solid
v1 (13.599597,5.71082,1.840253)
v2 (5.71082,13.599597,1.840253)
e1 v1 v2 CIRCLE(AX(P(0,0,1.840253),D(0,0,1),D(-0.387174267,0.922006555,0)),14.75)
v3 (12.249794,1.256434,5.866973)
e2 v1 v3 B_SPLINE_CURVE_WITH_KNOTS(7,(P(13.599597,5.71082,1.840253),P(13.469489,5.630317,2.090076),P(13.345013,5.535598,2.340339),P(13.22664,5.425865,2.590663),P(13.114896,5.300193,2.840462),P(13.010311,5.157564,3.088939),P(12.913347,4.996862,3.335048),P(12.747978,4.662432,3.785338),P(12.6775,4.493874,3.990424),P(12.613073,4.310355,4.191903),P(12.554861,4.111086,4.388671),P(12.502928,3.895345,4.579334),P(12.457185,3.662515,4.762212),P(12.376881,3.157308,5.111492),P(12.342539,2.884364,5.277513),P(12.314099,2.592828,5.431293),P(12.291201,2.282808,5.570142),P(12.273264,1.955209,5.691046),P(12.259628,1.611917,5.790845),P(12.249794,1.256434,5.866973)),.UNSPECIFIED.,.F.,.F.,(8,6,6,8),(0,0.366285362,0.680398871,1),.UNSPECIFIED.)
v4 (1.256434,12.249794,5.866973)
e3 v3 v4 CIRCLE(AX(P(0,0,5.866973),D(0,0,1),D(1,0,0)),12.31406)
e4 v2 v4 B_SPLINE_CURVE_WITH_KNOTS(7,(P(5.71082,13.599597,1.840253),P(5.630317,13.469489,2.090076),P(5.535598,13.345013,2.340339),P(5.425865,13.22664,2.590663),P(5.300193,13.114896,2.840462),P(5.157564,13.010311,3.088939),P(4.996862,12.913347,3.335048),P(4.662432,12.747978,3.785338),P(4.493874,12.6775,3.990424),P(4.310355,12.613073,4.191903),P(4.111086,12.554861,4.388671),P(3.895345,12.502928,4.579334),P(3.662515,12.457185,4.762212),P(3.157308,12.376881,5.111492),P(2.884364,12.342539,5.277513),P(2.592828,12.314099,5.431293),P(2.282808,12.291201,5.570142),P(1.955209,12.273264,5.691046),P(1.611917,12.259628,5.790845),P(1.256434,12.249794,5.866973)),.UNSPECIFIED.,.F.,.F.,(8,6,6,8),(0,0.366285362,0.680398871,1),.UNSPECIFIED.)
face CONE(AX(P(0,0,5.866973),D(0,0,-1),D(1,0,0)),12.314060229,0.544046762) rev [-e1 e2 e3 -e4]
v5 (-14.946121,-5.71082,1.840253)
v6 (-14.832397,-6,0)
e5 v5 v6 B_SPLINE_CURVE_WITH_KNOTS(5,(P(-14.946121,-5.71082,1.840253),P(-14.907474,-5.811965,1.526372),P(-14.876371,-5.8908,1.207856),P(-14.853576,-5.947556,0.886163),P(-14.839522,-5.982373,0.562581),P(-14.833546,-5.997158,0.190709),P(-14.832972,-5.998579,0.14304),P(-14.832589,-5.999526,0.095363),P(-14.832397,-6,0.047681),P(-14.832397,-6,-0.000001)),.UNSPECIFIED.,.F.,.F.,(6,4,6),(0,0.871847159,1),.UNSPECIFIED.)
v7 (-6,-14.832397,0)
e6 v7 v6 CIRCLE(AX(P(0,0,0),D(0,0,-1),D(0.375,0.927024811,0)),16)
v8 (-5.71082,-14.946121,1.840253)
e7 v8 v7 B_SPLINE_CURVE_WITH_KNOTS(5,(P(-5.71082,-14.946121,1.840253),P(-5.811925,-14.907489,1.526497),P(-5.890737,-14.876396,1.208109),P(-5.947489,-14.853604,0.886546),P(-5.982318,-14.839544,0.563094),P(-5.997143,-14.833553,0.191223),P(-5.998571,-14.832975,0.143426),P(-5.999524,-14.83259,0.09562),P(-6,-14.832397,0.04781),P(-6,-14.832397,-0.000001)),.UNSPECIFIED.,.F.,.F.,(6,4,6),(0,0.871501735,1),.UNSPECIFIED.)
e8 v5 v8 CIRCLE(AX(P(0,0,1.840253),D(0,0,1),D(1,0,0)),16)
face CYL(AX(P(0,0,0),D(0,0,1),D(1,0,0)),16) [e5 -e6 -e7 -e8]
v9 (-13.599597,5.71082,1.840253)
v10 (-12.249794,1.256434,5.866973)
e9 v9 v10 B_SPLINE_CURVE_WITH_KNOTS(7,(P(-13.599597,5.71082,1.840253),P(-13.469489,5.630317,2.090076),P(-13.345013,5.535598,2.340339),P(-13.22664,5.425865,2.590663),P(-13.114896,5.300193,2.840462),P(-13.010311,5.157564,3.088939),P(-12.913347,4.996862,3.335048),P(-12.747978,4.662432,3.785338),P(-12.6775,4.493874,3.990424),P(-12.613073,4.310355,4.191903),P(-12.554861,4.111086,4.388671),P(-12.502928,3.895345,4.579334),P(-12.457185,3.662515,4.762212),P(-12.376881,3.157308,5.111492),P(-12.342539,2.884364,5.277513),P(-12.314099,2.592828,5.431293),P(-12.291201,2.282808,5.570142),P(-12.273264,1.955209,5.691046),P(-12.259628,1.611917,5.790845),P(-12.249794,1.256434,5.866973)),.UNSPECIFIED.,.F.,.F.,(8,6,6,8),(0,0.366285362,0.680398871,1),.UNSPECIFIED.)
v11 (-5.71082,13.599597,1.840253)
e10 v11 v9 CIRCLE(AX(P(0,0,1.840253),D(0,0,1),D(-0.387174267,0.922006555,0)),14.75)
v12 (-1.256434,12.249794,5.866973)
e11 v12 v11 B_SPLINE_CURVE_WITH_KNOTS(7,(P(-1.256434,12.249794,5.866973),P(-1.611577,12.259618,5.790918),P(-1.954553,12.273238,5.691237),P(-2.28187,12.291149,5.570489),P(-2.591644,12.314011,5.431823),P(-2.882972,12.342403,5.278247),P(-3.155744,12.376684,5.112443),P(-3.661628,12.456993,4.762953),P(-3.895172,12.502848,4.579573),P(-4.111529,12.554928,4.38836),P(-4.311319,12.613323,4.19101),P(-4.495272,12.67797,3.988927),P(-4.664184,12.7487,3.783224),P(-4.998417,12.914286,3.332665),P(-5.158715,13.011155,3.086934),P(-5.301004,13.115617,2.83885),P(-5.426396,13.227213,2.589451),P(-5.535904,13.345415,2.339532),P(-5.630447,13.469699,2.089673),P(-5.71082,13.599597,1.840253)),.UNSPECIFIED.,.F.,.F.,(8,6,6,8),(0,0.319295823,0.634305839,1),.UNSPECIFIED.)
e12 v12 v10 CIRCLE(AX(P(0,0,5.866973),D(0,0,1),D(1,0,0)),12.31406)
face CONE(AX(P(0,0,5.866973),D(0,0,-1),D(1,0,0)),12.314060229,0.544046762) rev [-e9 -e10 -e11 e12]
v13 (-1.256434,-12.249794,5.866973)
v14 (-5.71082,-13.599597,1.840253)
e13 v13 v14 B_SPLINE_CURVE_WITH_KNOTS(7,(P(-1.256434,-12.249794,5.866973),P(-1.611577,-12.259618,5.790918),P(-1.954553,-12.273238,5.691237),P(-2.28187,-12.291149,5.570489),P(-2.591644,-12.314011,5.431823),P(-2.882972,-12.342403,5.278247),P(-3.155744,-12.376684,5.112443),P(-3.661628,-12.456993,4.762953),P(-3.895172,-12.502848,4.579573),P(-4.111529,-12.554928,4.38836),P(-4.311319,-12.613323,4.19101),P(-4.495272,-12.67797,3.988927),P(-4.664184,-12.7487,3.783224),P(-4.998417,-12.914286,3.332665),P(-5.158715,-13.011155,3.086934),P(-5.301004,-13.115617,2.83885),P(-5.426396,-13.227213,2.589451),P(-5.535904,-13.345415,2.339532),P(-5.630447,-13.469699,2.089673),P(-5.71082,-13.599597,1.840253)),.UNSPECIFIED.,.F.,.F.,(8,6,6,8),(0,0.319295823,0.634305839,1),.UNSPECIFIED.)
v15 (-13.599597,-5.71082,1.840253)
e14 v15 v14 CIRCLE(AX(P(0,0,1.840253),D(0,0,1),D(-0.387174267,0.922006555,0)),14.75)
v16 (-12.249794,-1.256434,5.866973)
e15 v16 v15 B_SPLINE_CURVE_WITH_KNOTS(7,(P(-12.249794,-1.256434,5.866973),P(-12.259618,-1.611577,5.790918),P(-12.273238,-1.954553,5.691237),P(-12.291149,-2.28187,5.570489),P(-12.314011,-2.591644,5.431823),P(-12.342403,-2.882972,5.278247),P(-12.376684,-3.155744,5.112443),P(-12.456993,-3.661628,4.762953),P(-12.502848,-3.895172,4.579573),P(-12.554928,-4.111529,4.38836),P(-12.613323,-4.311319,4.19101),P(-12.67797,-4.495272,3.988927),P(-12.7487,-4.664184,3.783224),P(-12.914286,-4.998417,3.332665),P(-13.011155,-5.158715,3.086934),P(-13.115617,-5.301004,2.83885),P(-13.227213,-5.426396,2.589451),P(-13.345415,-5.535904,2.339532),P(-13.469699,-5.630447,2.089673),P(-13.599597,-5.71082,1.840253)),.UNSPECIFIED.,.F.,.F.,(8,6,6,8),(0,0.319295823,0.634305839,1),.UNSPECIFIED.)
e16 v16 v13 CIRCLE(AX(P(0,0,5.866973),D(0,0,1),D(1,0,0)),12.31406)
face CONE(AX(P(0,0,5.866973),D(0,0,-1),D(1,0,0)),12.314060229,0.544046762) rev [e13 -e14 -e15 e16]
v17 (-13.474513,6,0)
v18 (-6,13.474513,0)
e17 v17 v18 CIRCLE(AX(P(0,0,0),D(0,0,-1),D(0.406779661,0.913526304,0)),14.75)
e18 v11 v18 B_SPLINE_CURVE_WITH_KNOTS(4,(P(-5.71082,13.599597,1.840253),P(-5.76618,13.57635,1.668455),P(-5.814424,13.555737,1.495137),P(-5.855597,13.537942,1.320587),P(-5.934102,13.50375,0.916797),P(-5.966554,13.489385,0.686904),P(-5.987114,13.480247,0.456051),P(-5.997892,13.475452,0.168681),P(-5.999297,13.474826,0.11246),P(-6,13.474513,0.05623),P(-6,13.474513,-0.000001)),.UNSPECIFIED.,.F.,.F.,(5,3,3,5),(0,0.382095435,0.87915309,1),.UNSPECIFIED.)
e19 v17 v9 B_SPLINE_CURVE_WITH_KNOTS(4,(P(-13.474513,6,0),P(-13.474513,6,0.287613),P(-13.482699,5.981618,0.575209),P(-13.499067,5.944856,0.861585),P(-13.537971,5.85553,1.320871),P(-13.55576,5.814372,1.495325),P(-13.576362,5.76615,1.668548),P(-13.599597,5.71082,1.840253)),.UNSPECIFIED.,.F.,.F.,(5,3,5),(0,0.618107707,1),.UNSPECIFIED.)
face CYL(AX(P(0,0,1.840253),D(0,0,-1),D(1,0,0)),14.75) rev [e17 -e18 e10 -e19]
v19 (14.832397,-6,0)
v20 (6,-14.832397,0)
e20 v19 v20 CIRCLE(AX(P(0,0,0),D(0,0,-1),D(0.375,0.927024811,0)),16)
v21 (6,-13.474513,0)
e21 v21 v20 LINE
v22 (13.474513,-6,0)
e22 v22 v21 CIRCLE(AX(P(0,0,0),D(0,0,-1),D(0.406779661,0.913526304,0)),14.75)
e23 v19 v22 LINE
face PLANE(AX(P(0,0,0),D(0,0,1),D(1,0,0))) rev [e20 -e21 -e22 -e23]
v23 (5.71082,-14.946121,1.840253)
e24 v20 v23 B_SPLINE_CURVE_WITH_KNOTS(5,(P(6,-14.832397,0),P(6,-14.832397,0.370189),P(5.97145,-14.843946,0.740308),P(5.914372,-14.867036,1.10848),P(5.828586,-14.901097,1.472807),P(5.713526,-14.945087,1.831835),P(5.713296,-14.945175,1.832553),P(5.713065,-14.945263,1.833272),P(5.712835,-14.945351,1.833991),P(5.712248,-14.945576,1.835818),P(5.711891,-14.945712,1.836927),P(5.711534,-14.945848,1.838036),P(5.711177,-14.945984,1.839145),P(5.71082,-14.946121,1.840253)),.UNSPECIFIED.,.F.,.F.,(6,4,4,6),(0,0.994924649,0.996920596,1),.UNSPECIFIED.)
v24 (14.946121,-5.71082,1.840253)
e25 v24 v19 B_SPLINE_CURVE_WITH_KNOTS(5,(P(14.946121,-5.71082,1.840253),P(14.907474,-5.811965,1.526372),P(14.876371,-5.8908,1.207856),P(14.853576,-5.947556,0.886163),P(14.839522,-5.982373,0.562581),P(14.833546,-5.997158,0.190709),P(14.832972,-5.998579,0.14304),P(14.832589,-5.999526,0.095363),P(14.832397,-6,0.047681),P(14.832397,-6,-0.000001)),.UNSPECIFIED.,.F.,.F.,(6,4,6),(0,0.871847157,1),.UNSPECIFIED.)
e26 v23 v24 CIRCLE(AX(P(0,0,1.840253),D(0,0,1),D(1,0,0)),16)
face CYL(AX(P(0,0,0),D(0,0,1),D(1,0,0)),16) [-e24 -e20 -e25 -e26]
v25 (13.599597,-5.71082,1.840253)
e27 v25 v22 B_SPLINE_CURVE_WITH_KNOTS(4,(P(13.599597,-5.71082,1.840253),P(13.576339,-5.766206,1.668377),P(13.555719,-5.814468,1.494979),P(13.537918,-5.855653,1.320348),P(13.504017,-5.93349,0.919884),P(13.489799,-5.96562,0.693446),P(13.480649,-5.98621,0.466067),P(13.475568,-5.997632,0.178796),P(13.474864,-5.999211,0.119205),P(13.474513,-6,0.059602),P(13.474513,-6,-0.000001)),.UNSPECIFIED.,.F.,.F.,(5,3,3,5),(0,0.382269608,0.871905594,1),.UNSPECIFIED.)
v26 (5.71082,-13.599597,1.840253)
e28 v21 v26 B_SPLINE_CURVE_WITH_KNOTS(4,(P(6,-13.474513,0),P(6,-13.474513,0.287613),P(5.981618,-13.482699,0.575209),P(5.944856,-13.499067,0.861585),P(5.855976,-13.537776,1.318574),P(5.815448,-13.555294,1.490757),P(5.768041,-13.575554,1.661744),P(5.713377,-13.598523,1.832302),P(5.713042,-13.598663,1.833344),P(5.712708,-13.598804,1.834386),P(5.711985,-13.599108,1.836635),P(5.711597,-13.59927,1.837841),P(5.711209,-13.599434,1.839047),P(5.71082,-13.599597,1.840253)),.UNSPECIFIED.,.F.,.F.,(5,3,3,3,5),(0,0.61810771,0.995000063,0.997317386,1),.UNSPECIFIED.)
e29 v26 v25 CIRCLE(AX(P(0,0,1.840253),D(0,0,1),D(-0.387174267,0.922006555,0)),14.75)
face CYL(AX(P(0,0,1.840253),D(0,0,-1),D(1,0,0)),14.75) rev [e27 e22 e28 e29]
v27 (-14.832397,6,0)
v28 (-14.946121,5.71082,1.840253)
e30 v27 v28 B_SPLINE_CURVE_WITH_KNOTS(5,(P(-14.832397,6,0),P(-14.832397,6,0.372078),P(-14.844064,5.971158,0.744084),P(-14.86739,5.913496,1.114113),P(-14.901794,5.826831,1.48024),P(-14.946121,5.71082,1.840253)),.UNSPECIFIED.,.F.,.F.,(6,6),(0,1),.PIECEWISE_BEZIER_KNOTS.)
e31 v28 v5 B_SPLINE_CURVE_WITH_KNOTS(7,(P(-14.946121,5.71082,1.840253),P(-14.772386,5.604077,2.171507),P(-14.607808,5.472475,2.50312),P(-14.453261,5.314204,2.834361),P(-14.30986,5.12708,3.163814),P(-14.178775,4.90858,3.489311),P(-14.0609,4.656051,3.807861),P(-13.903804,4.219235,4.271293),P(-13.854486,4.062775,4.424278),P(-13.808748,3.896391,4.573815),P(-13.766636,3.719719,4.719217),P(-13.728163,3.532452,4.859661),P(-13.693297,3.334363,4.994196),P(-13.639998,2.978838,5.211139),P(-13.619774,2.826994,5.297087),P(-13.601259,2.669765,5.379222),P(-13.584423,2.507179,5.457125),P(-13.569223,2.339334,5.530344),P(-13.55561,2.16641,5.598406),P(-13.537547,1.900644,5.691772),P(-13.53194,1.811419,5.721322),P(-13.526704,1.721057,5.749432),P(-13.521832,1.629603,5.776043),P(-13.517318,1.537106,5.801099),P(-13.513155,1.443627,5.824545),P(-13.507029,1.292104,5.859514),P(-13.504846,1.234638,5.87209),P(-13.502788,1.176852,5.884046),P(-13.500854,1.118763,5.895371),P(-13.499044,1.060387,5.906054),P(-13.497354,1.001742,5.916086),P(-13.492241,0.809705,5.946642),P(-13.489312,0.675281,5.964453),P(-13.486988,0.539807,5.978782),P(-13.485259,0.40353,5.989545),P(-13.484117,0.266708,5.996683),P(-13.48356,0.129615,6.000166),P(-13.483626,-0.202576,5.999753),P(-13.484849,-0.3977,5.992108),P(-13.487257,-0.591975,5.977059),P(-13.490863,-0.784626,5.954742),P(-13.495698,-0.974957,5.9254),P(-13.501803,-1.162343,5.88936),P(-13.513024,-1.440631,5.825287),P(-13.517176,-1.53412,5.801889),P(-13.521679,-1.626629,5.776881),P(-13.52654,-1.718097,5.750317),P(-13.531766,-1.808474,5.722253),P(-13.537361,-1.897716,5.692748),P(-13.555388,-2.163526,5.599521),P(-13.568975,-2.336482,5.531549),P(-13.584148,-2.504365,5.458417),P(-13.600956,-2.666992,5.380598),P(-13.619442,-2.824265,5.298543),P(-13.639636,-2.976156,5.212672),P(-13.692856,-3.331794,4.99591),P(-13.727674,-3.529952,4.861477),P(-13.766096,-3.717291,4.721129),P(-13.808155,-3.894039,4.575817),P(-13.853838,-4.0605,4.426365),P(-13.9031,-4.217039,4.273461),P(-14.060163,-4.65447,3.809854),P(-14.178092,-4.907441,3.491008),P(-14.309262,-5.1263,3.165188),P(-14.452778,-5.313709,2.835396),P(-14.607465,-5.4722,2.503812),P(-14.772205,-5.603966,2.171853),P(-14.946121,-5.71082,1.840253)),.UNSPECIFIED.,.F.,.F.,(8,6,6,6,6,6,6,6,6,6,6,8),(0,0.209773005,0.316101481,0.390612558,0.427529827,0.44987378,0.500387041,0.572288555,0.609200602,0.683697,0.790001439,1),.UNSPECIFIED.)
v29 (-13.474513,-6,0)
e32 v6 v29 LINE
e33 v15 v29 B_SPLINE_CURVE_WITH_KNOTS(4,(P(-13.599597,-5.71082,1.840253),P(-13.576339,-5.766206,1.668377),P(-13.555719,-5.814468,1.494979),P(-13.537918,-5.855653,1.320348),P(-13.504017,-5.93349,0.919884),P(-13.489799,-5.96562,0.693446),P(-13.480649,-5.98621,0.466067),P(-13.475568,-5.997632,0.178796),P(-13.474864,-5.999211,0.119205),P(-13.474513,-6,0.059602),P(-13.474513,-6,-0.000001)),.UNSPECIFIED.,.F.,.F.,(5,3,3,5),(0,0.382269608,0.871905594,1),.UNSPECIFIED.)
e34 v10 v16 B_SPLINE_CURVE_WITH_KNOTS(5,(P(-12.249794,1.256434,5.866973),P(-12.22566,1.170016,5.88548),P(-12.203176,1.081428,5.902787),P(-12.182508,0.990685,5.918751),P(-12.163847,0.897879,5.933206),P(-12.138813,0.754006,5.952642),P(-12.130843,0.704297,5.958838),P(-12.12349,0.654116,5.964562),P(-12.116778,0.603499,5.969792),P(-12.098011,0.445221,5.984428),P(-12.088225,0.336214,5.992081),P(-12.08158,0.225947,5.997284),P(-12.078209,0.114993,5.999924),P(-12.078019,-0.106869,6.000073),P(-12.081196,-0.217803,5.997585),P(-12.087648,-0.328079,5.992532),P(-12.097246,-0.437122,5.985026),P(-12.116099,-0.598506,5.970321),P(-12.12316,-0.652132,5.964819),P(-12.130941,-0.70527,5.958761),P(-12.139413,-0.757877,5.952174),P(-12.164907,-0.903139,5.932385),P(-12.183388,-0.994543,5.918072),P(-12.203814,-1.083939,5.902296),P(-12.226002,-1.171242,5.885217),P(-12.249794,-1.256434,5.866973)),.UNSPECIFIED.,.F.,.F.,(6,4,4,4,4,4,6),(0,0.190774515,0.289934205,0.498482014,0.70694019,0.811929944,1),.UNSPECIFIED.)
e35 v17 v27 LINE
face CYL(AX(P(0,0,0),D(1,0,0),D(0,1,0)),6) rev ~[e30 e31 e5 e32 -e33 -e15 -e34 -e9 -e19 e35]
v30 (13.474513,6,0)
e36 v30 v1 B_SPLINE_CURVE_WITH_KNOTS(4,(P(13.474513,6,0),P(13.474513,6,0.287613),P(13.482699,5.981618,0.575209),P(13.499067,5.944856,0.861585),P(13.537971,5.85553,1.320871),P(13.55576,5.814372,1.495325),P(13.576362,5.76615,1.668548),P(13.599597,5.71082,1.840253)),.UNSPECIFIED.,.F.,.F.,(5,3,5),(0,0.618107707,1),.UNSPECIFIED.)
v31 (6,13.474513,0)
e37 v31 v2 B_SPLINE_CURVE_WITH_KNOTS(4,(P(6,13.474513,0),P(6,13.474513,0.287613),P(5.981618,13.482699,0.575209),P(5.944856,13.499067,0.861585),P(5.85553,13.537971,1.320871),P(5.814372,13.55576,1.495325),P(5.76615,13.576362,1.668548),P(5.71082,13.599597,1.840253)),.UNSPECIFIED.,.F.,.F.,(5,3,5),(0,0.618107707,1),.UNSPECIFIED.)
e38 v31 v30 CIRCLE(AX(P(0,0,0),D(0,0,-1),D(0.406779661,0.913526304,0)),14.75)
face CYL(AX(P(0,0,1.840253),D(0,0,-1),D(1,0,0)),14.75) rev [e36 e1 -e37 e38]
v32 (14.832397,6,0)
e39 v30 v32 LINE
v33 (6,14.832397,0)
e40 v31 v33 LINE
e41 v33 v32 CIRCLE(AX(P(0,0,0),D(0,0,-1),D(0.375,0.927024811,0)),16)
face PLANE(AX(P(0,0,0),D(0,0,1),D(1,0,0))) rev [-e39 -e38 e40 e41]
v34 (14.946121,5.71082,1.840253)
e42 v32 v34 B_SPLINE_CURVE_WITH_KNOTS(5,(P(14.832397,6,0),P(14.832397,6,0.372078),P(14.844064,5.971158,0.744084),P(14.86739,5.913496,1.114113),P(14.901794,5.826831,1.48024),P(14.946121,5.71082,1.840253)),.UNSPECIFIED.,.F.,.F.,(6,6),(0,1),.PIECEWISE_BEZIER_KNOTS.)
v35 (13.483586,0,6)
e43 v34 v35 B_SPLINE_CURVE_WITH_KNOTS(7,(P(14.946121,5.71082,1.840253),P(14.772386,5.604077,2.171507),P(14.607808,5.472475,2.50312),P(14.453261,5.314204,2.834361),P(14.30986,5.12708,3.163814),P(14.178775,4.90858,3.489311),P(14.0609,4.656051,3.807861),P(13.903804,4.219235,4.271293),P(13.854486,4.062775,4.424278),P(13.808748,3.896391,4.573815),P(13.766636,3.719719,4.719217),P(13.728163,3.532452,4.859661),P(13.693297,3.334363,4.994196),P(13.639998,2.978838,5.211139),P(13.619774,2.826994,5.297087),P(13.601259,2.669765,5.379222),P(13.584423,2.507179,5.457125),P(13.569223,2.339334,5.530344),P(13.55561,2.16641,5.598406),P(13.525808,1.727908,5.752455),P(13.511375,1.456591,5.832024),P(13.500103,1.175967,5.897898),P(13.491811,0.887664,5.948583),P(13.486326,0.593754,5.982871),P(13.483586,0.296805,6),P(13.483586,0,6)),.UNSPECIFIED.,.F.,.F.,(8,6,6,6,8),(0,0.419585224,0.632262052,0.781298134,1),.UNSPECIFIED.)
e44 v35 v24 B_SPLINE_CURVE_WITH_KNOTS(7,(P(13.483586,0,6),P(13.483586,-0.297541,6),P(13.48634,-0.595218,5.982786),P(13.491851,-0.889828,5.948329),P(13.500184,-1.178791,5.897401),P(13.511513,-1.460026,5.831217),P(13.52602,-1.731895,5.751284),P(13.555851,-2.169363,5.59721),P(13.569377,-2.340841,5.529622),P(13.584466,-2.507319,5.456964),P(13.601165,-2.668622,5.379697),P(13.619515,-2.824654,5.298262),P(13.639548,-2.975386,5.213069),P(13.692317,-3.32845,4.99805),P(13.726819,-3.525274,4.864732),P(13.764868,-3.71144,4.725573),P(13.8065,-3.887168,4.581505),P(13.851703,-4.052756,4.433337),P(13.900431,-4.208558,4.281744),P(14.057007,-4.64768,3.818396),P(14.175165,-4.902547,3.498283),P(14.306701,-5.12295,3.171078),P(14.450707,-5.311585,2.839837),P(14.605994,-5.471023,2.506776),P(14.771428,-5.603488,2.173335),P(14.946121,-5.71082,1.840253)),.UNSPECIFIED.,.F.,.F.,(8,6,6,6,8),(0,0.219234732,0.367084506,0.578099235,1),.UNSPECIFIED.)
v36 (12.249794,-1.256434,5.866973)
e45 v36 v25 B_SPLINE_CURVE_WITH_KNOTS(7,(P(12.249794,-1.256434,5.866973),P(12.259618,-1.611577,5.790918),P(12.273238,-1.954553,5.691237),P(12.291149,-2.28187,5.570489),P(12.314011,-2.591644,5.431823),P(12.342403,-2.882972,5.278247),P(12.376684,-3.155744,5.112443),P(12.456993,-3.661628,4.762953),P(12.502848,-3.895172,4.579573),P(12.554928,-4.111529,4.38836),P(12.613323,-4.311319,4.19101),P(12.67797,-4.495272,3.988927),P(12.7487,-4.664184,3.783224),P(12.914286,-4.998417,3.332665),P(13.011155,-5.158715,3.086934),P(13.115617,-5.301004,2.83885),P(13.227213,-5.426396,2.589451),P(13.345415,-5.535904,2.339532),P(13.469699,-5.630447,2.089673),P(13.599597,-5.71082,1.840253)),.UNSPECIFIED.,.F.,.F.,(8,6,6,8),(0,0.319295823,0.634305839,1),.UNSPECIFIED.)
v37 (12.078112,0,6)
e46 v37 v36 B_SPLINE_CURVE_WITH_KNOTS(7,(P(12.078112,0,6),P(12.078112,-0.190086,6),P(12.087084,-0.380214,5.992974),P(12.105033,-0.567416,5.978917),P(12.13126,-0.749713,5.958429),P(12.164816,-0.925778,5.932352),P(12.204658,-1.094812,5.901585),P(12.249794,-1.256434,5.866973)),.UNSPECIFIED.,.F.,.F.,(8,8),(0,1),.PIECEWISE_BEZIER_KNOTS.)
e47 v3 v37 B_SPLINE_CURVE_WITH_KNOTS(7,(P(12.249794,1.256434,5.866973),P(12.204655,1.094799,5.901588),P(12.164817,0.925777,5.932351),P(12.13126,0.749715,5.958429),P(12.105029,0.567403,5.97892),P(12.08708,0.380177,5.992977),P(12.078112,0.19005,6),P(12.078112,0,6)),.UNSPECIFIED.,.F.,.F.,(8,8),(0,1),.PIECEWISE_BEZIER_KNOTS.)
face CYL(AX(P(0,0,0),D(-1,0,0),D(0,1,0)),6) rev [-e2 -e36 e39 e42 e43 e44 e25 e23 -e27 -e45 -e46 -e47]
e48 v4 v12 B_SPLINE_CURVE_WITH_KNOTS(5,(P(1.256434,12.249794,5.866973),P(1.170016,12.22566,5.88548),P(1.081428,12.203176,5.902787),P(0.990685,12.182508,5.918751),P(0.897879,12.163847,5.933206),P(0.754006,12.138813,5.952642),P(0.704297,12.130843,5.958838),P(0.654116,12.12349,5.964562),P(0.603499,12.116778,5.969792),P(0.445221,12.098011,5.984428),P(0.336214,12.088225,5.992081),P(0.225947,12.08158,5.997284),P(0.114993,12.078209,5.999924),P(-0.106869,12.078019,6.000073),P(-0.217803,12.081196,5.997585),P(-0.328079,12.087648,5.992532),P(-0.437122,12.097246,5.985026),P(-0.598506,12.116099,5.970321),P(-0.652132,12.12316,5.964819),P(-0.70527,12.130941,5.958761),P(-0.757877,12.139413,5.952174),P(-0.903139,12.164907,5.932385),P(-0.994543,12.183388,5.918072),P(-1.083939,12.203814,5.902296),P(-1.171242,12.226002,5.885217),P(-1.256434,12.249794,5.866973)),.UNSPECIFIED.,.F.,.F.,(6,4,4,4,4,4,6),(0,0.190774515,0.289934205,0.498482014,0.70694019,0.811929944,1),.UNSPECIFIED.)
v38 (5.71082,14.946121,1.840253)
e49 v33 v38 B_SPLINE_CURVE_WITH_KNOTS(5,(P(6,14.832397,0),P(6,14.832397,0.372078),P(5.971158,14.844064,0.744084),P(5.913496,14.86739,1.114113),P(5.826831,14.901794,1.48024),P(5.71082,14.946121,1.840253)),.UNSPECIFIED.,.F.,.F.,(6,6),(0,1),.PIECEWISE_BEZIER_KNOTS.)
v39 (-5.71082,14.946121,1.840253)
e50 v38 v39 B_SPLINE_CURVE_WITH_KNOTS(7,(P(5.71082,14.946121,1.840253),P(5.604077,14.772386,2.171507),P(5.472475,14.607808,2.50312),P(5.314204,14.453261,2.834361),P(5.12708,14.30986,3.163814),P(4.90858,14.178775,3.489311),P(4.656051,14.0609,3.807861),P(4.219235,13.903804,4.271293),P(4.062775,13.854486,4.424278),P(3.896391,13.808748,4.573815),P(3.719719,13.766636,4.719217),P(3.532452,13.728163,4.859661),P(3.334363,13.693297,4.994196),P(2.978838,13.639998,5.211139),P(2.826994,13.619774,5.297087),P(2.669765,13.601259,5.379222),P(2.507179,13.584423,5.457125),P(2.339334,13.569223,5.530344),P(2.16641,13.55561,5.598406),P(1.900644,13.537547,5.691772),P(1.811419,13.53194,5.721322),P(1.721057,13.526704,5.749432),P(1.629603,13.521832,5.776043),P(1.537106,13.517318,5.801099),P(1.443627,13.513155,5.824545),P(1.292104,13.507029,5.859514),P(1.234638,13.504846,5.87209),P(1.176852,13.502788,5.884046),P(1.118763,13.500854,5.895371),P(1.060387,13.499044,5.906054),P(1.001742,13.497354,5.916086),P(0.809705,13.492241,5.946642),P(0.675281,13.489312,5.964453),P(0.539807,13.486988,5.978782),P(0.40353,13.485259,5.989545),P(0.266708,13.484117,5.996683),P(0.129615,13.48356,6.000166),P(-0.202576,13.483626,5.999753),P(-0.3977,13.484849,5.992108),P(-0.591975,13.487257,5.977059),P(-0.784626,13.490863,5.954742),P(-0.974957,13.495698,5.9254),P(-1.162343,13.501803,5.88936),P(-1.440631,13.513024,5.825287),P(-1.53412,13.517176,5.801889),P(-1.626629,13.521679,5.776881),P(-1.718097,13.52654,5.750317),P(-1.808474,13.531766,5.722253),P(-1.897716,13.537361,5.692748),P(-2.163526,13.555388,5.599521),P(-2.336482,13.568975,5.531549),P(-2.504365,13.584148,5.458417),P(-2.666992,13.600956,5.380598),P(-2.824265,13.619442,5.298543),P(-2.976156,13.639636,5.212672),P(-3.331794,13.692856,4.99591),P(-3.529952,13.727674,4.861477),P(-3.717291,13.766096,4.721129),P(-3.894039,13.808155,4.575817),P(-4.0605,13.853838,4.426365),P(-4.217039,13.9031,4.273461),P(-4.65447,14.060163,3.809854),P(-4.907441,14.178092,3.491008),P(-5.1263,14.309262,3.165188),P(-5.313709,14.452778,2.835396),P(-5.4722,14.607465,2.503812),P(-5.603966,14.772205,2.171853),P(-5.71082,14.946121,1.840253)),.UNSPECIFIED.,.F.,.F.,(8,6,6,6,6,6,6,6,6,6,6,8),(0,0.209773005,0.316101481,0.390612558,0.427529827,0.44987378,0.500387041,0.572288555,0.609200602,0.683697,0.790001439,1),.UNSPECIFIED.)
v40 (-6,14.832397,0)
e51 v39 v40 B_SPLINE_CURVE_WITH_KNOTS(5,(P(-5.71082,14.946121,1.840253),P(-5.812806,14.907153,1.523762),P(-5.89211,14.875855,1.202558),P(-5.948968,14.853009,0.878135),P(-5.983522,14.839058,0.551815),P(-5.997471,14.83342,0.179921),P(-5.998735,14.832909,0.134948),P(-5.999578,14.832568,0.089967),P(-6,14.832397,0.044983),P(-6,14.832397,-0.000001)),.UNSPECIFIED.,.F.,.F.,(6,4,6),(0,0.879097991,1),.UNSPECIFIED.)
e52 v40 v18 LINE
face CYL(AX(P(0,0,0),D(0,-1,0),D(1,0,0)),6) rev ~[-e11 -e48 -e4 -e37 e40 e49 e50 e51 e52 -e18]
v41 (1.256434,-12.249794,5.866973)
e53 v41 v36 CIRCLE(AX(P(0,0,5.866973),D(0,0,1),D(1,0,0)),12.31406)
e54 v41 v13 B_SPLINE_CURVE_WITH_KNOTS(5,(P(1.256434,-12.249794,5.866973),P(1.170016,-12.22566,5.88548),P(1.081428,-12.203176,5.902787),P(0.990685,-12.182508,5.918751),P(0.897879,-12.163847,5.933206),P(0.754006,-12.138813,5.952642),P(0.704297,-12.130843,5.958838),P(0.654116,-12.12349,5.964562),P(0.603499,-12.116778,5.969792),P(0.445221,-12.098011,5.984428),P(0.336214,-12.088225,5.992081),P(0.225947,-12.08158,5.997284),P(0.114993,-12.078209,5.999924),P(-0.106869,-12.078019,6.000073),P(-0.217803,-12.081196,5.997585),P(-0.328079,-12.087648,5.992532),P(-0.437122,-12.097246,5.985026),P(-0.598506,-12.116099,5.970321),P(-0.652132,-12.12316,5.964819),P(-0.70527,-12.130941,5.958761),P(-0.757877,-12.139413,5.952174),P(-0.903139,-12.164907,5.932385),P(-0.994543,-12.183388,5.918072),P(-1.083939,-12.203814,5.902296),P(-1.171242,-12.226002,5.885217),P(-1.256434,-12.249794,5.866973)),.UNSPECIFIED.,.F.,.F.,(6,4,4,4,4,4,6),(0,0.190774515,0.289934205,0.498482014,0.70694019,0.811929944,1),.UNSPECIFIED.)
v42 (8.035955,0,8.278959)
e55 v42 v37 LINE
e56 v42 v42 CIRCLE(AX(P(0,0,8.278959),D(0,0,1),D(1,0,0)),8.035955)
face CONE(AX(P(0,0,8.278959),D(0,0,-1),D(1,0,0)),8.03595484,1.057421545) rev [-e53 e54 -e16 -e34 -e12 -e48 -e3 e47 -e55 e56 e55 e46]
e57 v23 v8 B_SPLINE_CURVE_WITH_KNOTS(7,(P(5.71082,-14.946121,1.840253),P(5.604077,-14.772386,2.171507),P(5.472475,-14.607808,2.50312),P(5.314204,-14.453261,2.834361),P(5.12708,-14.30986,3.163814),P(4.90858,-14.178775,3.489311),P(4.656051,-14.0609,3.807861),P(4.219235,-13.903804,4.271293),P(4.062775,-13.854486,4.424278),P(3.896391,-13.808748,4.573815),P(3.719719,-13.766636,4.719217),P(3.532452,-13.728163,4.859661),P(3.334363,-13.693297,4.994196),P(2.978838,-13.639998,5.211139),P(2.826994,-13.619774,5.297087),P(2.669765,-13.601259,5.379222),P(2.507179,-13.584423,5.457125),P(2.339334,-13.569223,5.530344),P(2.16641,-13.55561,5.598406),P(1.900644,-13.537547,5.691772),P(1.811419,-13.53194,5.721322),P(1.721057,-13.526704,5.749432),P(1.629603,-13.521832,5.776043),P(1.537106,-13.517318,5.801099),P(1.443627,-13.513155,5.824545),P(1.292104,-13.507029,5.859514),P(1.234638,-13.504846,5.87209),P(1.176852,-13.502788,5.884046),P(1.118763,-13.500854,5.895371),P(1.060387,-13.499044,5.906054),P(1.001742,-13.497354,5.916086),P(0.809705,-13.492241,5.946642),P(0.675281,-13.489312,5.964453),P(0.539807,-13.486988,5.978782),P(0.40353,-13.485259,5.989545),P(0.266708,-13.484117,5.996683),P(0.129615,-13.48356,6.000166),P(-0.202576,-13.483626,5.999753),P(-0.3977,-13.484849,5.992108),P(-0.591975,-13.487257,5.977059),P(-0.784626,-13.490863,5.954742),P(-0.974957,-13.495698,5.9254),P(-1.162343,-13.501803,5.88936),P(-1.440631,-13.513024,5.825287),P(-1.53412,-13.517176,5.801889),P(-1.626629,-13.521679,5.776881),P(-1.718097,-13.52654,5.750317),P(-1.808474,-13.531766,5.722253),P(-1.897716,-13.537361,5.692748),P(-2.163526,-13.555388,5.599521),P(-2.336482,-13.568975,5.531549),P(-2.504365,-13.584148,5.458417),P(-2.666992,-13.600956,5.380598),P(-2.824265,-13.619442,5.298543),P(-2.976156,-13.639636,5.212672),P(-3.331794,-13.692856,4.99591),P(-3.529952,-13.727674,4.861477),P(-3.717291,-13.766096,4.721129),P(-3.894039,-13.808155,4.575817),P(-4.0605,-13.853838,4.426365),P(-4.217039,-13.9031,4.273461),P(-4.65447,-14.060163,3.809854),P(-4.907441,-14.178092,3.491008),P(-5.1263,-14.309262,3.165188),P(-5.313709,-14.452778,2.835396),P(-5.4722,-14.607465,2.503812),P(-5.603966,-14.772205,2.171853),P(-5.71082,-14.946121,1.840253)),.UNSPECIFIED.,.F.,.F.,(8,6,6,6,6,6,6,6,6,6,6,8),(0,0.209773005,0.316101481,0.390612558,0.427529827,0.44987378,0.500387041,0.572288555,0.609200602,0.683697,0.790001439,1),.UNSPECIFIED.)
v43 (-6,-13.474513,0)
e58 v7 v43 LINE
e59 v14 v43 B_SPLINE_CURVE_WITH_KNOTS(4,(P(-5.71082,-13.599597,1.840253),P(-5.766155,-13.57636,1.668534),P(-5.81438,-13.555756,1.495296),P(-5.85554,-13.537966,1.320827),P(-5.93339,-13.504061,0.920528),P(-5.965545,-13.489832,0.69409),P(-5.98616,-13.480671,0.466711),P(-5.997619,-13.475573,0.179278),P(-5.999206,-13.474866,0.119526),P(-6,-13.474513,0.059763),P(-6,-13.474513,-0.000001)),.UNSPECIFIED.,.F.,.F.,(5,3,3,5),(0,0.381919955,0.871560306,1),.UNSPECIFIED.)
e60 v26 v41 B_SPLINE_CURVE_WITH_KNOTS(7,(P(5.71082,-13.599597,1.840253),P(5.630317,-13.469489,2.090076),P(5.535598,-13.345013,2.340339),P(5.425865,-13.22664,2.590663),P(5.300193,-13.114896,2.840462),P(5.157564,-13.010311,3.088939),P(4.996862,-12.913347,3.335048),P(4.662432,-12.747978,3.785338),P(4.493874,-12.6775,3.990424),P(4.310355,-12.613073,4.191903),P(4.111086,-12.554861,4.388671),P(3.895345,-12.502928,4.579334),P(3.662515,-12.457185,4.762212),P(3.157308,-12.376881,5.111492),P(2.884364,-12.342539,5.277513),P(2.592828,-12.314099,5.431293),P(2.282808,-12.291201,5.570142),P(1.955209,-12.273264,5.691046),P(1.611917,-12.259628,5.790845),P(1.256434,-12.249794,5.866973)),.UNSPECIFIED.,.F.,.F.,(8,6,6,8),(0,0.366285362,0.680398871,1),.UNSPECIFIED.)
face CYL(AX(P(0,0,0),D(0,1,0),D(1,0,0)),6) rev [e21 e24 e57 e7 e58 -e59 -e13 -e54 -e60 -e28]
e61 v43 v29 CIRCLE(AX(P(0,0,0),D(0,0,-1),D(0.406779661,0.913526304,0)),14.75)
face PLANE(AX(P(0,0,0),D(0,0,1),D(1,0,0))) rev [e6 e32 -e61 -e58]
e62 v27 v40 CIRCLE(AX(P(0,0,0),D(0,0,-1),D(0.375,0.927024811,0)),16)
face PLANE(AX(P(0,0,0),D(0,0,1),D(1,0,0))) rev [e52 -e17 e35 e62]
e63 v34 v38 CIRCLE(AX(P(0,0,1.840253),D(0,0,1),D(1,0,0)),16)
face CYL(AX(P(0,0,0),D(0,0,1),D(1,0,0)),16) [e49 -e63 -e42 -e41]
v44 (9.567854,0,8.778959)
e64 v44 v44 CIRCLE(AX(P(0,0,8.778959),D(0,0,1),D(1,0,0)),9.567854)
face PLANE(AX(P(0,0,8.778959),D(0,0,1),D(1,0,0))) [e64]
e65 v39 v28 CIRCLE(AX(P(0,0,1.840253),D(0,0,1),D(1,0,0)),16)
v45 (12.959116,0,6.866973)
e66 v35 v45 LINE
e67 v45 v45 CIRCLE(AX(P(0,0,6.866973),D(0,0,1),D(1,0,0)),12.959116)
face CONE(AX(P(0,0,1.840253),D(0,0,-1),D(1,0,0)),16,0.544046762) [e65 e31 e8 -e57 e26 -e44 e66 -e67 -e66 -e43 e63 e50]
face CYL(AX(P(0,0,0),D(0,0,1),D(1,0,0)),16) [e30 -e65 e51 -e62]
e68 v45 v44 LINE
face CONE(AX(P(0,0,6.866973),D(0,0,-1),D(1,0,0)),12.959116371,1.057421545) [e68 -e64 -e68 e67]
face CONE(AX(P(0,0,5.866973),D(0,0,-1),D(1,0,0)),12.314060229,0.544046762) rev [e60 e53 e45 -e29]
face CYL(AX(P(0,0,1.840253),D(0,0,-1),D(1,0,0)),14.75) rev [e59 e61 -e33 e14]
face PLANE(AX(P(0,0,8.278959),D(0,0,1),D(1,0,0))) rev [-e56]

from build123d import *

# Parameters (mm, degrees)
F2_R          = 6
F3_DEPTH      = 25
F3_DEPTH_BACK = 25
F4_R          = 6
F5_DEPTH      = 25
F5_DEPTH_BACK = 25


with BuildPart() as f1:
    # F0 (on Front) → F1 (revolve)
    with BuildSketch(Plane.XZ):
        Polygon((14.75, 1.8402526621), (14.75, 0), (16, 0), (16, 1.8402526621), (12.959116371, 6.8669730598), (9.5678537413, 8.778959482), (0, 8.778959482), (0, 8.278959482), (8.0359548395, 8.278959482), (12.3140602287, 5.8669730598), align=None)
    revolve(axis=Axis((0, 0, 4.778959482), (0, 0, 1)))

    # F2 (on Front) → F3 (cut, two sides)
    with BuildSketch(Plane.XZ) as f3_sk:
        Circle(F2_R)
    extrude(amount=-F3_DEPTH, mode=Mode.SUBTRACT)
    extrude(f3_sk.sketch, amount=F3_DEPTH_BACK, mode=Mode.SUBTRACT)

    # F4 (on Right) → F5 (cut, two sides)
    with BuildSketch(Plane.YZ) as f5_sk:
        Circle(F4_R)
    extrude(amount=-F5_DEPTH, mode=Mode.SUBTRACT)
    extrude(f5_sk.sketch, amount=F5_DEPTH_BACK, mode=Mode.SUBTRACT)


solid = f1.part
